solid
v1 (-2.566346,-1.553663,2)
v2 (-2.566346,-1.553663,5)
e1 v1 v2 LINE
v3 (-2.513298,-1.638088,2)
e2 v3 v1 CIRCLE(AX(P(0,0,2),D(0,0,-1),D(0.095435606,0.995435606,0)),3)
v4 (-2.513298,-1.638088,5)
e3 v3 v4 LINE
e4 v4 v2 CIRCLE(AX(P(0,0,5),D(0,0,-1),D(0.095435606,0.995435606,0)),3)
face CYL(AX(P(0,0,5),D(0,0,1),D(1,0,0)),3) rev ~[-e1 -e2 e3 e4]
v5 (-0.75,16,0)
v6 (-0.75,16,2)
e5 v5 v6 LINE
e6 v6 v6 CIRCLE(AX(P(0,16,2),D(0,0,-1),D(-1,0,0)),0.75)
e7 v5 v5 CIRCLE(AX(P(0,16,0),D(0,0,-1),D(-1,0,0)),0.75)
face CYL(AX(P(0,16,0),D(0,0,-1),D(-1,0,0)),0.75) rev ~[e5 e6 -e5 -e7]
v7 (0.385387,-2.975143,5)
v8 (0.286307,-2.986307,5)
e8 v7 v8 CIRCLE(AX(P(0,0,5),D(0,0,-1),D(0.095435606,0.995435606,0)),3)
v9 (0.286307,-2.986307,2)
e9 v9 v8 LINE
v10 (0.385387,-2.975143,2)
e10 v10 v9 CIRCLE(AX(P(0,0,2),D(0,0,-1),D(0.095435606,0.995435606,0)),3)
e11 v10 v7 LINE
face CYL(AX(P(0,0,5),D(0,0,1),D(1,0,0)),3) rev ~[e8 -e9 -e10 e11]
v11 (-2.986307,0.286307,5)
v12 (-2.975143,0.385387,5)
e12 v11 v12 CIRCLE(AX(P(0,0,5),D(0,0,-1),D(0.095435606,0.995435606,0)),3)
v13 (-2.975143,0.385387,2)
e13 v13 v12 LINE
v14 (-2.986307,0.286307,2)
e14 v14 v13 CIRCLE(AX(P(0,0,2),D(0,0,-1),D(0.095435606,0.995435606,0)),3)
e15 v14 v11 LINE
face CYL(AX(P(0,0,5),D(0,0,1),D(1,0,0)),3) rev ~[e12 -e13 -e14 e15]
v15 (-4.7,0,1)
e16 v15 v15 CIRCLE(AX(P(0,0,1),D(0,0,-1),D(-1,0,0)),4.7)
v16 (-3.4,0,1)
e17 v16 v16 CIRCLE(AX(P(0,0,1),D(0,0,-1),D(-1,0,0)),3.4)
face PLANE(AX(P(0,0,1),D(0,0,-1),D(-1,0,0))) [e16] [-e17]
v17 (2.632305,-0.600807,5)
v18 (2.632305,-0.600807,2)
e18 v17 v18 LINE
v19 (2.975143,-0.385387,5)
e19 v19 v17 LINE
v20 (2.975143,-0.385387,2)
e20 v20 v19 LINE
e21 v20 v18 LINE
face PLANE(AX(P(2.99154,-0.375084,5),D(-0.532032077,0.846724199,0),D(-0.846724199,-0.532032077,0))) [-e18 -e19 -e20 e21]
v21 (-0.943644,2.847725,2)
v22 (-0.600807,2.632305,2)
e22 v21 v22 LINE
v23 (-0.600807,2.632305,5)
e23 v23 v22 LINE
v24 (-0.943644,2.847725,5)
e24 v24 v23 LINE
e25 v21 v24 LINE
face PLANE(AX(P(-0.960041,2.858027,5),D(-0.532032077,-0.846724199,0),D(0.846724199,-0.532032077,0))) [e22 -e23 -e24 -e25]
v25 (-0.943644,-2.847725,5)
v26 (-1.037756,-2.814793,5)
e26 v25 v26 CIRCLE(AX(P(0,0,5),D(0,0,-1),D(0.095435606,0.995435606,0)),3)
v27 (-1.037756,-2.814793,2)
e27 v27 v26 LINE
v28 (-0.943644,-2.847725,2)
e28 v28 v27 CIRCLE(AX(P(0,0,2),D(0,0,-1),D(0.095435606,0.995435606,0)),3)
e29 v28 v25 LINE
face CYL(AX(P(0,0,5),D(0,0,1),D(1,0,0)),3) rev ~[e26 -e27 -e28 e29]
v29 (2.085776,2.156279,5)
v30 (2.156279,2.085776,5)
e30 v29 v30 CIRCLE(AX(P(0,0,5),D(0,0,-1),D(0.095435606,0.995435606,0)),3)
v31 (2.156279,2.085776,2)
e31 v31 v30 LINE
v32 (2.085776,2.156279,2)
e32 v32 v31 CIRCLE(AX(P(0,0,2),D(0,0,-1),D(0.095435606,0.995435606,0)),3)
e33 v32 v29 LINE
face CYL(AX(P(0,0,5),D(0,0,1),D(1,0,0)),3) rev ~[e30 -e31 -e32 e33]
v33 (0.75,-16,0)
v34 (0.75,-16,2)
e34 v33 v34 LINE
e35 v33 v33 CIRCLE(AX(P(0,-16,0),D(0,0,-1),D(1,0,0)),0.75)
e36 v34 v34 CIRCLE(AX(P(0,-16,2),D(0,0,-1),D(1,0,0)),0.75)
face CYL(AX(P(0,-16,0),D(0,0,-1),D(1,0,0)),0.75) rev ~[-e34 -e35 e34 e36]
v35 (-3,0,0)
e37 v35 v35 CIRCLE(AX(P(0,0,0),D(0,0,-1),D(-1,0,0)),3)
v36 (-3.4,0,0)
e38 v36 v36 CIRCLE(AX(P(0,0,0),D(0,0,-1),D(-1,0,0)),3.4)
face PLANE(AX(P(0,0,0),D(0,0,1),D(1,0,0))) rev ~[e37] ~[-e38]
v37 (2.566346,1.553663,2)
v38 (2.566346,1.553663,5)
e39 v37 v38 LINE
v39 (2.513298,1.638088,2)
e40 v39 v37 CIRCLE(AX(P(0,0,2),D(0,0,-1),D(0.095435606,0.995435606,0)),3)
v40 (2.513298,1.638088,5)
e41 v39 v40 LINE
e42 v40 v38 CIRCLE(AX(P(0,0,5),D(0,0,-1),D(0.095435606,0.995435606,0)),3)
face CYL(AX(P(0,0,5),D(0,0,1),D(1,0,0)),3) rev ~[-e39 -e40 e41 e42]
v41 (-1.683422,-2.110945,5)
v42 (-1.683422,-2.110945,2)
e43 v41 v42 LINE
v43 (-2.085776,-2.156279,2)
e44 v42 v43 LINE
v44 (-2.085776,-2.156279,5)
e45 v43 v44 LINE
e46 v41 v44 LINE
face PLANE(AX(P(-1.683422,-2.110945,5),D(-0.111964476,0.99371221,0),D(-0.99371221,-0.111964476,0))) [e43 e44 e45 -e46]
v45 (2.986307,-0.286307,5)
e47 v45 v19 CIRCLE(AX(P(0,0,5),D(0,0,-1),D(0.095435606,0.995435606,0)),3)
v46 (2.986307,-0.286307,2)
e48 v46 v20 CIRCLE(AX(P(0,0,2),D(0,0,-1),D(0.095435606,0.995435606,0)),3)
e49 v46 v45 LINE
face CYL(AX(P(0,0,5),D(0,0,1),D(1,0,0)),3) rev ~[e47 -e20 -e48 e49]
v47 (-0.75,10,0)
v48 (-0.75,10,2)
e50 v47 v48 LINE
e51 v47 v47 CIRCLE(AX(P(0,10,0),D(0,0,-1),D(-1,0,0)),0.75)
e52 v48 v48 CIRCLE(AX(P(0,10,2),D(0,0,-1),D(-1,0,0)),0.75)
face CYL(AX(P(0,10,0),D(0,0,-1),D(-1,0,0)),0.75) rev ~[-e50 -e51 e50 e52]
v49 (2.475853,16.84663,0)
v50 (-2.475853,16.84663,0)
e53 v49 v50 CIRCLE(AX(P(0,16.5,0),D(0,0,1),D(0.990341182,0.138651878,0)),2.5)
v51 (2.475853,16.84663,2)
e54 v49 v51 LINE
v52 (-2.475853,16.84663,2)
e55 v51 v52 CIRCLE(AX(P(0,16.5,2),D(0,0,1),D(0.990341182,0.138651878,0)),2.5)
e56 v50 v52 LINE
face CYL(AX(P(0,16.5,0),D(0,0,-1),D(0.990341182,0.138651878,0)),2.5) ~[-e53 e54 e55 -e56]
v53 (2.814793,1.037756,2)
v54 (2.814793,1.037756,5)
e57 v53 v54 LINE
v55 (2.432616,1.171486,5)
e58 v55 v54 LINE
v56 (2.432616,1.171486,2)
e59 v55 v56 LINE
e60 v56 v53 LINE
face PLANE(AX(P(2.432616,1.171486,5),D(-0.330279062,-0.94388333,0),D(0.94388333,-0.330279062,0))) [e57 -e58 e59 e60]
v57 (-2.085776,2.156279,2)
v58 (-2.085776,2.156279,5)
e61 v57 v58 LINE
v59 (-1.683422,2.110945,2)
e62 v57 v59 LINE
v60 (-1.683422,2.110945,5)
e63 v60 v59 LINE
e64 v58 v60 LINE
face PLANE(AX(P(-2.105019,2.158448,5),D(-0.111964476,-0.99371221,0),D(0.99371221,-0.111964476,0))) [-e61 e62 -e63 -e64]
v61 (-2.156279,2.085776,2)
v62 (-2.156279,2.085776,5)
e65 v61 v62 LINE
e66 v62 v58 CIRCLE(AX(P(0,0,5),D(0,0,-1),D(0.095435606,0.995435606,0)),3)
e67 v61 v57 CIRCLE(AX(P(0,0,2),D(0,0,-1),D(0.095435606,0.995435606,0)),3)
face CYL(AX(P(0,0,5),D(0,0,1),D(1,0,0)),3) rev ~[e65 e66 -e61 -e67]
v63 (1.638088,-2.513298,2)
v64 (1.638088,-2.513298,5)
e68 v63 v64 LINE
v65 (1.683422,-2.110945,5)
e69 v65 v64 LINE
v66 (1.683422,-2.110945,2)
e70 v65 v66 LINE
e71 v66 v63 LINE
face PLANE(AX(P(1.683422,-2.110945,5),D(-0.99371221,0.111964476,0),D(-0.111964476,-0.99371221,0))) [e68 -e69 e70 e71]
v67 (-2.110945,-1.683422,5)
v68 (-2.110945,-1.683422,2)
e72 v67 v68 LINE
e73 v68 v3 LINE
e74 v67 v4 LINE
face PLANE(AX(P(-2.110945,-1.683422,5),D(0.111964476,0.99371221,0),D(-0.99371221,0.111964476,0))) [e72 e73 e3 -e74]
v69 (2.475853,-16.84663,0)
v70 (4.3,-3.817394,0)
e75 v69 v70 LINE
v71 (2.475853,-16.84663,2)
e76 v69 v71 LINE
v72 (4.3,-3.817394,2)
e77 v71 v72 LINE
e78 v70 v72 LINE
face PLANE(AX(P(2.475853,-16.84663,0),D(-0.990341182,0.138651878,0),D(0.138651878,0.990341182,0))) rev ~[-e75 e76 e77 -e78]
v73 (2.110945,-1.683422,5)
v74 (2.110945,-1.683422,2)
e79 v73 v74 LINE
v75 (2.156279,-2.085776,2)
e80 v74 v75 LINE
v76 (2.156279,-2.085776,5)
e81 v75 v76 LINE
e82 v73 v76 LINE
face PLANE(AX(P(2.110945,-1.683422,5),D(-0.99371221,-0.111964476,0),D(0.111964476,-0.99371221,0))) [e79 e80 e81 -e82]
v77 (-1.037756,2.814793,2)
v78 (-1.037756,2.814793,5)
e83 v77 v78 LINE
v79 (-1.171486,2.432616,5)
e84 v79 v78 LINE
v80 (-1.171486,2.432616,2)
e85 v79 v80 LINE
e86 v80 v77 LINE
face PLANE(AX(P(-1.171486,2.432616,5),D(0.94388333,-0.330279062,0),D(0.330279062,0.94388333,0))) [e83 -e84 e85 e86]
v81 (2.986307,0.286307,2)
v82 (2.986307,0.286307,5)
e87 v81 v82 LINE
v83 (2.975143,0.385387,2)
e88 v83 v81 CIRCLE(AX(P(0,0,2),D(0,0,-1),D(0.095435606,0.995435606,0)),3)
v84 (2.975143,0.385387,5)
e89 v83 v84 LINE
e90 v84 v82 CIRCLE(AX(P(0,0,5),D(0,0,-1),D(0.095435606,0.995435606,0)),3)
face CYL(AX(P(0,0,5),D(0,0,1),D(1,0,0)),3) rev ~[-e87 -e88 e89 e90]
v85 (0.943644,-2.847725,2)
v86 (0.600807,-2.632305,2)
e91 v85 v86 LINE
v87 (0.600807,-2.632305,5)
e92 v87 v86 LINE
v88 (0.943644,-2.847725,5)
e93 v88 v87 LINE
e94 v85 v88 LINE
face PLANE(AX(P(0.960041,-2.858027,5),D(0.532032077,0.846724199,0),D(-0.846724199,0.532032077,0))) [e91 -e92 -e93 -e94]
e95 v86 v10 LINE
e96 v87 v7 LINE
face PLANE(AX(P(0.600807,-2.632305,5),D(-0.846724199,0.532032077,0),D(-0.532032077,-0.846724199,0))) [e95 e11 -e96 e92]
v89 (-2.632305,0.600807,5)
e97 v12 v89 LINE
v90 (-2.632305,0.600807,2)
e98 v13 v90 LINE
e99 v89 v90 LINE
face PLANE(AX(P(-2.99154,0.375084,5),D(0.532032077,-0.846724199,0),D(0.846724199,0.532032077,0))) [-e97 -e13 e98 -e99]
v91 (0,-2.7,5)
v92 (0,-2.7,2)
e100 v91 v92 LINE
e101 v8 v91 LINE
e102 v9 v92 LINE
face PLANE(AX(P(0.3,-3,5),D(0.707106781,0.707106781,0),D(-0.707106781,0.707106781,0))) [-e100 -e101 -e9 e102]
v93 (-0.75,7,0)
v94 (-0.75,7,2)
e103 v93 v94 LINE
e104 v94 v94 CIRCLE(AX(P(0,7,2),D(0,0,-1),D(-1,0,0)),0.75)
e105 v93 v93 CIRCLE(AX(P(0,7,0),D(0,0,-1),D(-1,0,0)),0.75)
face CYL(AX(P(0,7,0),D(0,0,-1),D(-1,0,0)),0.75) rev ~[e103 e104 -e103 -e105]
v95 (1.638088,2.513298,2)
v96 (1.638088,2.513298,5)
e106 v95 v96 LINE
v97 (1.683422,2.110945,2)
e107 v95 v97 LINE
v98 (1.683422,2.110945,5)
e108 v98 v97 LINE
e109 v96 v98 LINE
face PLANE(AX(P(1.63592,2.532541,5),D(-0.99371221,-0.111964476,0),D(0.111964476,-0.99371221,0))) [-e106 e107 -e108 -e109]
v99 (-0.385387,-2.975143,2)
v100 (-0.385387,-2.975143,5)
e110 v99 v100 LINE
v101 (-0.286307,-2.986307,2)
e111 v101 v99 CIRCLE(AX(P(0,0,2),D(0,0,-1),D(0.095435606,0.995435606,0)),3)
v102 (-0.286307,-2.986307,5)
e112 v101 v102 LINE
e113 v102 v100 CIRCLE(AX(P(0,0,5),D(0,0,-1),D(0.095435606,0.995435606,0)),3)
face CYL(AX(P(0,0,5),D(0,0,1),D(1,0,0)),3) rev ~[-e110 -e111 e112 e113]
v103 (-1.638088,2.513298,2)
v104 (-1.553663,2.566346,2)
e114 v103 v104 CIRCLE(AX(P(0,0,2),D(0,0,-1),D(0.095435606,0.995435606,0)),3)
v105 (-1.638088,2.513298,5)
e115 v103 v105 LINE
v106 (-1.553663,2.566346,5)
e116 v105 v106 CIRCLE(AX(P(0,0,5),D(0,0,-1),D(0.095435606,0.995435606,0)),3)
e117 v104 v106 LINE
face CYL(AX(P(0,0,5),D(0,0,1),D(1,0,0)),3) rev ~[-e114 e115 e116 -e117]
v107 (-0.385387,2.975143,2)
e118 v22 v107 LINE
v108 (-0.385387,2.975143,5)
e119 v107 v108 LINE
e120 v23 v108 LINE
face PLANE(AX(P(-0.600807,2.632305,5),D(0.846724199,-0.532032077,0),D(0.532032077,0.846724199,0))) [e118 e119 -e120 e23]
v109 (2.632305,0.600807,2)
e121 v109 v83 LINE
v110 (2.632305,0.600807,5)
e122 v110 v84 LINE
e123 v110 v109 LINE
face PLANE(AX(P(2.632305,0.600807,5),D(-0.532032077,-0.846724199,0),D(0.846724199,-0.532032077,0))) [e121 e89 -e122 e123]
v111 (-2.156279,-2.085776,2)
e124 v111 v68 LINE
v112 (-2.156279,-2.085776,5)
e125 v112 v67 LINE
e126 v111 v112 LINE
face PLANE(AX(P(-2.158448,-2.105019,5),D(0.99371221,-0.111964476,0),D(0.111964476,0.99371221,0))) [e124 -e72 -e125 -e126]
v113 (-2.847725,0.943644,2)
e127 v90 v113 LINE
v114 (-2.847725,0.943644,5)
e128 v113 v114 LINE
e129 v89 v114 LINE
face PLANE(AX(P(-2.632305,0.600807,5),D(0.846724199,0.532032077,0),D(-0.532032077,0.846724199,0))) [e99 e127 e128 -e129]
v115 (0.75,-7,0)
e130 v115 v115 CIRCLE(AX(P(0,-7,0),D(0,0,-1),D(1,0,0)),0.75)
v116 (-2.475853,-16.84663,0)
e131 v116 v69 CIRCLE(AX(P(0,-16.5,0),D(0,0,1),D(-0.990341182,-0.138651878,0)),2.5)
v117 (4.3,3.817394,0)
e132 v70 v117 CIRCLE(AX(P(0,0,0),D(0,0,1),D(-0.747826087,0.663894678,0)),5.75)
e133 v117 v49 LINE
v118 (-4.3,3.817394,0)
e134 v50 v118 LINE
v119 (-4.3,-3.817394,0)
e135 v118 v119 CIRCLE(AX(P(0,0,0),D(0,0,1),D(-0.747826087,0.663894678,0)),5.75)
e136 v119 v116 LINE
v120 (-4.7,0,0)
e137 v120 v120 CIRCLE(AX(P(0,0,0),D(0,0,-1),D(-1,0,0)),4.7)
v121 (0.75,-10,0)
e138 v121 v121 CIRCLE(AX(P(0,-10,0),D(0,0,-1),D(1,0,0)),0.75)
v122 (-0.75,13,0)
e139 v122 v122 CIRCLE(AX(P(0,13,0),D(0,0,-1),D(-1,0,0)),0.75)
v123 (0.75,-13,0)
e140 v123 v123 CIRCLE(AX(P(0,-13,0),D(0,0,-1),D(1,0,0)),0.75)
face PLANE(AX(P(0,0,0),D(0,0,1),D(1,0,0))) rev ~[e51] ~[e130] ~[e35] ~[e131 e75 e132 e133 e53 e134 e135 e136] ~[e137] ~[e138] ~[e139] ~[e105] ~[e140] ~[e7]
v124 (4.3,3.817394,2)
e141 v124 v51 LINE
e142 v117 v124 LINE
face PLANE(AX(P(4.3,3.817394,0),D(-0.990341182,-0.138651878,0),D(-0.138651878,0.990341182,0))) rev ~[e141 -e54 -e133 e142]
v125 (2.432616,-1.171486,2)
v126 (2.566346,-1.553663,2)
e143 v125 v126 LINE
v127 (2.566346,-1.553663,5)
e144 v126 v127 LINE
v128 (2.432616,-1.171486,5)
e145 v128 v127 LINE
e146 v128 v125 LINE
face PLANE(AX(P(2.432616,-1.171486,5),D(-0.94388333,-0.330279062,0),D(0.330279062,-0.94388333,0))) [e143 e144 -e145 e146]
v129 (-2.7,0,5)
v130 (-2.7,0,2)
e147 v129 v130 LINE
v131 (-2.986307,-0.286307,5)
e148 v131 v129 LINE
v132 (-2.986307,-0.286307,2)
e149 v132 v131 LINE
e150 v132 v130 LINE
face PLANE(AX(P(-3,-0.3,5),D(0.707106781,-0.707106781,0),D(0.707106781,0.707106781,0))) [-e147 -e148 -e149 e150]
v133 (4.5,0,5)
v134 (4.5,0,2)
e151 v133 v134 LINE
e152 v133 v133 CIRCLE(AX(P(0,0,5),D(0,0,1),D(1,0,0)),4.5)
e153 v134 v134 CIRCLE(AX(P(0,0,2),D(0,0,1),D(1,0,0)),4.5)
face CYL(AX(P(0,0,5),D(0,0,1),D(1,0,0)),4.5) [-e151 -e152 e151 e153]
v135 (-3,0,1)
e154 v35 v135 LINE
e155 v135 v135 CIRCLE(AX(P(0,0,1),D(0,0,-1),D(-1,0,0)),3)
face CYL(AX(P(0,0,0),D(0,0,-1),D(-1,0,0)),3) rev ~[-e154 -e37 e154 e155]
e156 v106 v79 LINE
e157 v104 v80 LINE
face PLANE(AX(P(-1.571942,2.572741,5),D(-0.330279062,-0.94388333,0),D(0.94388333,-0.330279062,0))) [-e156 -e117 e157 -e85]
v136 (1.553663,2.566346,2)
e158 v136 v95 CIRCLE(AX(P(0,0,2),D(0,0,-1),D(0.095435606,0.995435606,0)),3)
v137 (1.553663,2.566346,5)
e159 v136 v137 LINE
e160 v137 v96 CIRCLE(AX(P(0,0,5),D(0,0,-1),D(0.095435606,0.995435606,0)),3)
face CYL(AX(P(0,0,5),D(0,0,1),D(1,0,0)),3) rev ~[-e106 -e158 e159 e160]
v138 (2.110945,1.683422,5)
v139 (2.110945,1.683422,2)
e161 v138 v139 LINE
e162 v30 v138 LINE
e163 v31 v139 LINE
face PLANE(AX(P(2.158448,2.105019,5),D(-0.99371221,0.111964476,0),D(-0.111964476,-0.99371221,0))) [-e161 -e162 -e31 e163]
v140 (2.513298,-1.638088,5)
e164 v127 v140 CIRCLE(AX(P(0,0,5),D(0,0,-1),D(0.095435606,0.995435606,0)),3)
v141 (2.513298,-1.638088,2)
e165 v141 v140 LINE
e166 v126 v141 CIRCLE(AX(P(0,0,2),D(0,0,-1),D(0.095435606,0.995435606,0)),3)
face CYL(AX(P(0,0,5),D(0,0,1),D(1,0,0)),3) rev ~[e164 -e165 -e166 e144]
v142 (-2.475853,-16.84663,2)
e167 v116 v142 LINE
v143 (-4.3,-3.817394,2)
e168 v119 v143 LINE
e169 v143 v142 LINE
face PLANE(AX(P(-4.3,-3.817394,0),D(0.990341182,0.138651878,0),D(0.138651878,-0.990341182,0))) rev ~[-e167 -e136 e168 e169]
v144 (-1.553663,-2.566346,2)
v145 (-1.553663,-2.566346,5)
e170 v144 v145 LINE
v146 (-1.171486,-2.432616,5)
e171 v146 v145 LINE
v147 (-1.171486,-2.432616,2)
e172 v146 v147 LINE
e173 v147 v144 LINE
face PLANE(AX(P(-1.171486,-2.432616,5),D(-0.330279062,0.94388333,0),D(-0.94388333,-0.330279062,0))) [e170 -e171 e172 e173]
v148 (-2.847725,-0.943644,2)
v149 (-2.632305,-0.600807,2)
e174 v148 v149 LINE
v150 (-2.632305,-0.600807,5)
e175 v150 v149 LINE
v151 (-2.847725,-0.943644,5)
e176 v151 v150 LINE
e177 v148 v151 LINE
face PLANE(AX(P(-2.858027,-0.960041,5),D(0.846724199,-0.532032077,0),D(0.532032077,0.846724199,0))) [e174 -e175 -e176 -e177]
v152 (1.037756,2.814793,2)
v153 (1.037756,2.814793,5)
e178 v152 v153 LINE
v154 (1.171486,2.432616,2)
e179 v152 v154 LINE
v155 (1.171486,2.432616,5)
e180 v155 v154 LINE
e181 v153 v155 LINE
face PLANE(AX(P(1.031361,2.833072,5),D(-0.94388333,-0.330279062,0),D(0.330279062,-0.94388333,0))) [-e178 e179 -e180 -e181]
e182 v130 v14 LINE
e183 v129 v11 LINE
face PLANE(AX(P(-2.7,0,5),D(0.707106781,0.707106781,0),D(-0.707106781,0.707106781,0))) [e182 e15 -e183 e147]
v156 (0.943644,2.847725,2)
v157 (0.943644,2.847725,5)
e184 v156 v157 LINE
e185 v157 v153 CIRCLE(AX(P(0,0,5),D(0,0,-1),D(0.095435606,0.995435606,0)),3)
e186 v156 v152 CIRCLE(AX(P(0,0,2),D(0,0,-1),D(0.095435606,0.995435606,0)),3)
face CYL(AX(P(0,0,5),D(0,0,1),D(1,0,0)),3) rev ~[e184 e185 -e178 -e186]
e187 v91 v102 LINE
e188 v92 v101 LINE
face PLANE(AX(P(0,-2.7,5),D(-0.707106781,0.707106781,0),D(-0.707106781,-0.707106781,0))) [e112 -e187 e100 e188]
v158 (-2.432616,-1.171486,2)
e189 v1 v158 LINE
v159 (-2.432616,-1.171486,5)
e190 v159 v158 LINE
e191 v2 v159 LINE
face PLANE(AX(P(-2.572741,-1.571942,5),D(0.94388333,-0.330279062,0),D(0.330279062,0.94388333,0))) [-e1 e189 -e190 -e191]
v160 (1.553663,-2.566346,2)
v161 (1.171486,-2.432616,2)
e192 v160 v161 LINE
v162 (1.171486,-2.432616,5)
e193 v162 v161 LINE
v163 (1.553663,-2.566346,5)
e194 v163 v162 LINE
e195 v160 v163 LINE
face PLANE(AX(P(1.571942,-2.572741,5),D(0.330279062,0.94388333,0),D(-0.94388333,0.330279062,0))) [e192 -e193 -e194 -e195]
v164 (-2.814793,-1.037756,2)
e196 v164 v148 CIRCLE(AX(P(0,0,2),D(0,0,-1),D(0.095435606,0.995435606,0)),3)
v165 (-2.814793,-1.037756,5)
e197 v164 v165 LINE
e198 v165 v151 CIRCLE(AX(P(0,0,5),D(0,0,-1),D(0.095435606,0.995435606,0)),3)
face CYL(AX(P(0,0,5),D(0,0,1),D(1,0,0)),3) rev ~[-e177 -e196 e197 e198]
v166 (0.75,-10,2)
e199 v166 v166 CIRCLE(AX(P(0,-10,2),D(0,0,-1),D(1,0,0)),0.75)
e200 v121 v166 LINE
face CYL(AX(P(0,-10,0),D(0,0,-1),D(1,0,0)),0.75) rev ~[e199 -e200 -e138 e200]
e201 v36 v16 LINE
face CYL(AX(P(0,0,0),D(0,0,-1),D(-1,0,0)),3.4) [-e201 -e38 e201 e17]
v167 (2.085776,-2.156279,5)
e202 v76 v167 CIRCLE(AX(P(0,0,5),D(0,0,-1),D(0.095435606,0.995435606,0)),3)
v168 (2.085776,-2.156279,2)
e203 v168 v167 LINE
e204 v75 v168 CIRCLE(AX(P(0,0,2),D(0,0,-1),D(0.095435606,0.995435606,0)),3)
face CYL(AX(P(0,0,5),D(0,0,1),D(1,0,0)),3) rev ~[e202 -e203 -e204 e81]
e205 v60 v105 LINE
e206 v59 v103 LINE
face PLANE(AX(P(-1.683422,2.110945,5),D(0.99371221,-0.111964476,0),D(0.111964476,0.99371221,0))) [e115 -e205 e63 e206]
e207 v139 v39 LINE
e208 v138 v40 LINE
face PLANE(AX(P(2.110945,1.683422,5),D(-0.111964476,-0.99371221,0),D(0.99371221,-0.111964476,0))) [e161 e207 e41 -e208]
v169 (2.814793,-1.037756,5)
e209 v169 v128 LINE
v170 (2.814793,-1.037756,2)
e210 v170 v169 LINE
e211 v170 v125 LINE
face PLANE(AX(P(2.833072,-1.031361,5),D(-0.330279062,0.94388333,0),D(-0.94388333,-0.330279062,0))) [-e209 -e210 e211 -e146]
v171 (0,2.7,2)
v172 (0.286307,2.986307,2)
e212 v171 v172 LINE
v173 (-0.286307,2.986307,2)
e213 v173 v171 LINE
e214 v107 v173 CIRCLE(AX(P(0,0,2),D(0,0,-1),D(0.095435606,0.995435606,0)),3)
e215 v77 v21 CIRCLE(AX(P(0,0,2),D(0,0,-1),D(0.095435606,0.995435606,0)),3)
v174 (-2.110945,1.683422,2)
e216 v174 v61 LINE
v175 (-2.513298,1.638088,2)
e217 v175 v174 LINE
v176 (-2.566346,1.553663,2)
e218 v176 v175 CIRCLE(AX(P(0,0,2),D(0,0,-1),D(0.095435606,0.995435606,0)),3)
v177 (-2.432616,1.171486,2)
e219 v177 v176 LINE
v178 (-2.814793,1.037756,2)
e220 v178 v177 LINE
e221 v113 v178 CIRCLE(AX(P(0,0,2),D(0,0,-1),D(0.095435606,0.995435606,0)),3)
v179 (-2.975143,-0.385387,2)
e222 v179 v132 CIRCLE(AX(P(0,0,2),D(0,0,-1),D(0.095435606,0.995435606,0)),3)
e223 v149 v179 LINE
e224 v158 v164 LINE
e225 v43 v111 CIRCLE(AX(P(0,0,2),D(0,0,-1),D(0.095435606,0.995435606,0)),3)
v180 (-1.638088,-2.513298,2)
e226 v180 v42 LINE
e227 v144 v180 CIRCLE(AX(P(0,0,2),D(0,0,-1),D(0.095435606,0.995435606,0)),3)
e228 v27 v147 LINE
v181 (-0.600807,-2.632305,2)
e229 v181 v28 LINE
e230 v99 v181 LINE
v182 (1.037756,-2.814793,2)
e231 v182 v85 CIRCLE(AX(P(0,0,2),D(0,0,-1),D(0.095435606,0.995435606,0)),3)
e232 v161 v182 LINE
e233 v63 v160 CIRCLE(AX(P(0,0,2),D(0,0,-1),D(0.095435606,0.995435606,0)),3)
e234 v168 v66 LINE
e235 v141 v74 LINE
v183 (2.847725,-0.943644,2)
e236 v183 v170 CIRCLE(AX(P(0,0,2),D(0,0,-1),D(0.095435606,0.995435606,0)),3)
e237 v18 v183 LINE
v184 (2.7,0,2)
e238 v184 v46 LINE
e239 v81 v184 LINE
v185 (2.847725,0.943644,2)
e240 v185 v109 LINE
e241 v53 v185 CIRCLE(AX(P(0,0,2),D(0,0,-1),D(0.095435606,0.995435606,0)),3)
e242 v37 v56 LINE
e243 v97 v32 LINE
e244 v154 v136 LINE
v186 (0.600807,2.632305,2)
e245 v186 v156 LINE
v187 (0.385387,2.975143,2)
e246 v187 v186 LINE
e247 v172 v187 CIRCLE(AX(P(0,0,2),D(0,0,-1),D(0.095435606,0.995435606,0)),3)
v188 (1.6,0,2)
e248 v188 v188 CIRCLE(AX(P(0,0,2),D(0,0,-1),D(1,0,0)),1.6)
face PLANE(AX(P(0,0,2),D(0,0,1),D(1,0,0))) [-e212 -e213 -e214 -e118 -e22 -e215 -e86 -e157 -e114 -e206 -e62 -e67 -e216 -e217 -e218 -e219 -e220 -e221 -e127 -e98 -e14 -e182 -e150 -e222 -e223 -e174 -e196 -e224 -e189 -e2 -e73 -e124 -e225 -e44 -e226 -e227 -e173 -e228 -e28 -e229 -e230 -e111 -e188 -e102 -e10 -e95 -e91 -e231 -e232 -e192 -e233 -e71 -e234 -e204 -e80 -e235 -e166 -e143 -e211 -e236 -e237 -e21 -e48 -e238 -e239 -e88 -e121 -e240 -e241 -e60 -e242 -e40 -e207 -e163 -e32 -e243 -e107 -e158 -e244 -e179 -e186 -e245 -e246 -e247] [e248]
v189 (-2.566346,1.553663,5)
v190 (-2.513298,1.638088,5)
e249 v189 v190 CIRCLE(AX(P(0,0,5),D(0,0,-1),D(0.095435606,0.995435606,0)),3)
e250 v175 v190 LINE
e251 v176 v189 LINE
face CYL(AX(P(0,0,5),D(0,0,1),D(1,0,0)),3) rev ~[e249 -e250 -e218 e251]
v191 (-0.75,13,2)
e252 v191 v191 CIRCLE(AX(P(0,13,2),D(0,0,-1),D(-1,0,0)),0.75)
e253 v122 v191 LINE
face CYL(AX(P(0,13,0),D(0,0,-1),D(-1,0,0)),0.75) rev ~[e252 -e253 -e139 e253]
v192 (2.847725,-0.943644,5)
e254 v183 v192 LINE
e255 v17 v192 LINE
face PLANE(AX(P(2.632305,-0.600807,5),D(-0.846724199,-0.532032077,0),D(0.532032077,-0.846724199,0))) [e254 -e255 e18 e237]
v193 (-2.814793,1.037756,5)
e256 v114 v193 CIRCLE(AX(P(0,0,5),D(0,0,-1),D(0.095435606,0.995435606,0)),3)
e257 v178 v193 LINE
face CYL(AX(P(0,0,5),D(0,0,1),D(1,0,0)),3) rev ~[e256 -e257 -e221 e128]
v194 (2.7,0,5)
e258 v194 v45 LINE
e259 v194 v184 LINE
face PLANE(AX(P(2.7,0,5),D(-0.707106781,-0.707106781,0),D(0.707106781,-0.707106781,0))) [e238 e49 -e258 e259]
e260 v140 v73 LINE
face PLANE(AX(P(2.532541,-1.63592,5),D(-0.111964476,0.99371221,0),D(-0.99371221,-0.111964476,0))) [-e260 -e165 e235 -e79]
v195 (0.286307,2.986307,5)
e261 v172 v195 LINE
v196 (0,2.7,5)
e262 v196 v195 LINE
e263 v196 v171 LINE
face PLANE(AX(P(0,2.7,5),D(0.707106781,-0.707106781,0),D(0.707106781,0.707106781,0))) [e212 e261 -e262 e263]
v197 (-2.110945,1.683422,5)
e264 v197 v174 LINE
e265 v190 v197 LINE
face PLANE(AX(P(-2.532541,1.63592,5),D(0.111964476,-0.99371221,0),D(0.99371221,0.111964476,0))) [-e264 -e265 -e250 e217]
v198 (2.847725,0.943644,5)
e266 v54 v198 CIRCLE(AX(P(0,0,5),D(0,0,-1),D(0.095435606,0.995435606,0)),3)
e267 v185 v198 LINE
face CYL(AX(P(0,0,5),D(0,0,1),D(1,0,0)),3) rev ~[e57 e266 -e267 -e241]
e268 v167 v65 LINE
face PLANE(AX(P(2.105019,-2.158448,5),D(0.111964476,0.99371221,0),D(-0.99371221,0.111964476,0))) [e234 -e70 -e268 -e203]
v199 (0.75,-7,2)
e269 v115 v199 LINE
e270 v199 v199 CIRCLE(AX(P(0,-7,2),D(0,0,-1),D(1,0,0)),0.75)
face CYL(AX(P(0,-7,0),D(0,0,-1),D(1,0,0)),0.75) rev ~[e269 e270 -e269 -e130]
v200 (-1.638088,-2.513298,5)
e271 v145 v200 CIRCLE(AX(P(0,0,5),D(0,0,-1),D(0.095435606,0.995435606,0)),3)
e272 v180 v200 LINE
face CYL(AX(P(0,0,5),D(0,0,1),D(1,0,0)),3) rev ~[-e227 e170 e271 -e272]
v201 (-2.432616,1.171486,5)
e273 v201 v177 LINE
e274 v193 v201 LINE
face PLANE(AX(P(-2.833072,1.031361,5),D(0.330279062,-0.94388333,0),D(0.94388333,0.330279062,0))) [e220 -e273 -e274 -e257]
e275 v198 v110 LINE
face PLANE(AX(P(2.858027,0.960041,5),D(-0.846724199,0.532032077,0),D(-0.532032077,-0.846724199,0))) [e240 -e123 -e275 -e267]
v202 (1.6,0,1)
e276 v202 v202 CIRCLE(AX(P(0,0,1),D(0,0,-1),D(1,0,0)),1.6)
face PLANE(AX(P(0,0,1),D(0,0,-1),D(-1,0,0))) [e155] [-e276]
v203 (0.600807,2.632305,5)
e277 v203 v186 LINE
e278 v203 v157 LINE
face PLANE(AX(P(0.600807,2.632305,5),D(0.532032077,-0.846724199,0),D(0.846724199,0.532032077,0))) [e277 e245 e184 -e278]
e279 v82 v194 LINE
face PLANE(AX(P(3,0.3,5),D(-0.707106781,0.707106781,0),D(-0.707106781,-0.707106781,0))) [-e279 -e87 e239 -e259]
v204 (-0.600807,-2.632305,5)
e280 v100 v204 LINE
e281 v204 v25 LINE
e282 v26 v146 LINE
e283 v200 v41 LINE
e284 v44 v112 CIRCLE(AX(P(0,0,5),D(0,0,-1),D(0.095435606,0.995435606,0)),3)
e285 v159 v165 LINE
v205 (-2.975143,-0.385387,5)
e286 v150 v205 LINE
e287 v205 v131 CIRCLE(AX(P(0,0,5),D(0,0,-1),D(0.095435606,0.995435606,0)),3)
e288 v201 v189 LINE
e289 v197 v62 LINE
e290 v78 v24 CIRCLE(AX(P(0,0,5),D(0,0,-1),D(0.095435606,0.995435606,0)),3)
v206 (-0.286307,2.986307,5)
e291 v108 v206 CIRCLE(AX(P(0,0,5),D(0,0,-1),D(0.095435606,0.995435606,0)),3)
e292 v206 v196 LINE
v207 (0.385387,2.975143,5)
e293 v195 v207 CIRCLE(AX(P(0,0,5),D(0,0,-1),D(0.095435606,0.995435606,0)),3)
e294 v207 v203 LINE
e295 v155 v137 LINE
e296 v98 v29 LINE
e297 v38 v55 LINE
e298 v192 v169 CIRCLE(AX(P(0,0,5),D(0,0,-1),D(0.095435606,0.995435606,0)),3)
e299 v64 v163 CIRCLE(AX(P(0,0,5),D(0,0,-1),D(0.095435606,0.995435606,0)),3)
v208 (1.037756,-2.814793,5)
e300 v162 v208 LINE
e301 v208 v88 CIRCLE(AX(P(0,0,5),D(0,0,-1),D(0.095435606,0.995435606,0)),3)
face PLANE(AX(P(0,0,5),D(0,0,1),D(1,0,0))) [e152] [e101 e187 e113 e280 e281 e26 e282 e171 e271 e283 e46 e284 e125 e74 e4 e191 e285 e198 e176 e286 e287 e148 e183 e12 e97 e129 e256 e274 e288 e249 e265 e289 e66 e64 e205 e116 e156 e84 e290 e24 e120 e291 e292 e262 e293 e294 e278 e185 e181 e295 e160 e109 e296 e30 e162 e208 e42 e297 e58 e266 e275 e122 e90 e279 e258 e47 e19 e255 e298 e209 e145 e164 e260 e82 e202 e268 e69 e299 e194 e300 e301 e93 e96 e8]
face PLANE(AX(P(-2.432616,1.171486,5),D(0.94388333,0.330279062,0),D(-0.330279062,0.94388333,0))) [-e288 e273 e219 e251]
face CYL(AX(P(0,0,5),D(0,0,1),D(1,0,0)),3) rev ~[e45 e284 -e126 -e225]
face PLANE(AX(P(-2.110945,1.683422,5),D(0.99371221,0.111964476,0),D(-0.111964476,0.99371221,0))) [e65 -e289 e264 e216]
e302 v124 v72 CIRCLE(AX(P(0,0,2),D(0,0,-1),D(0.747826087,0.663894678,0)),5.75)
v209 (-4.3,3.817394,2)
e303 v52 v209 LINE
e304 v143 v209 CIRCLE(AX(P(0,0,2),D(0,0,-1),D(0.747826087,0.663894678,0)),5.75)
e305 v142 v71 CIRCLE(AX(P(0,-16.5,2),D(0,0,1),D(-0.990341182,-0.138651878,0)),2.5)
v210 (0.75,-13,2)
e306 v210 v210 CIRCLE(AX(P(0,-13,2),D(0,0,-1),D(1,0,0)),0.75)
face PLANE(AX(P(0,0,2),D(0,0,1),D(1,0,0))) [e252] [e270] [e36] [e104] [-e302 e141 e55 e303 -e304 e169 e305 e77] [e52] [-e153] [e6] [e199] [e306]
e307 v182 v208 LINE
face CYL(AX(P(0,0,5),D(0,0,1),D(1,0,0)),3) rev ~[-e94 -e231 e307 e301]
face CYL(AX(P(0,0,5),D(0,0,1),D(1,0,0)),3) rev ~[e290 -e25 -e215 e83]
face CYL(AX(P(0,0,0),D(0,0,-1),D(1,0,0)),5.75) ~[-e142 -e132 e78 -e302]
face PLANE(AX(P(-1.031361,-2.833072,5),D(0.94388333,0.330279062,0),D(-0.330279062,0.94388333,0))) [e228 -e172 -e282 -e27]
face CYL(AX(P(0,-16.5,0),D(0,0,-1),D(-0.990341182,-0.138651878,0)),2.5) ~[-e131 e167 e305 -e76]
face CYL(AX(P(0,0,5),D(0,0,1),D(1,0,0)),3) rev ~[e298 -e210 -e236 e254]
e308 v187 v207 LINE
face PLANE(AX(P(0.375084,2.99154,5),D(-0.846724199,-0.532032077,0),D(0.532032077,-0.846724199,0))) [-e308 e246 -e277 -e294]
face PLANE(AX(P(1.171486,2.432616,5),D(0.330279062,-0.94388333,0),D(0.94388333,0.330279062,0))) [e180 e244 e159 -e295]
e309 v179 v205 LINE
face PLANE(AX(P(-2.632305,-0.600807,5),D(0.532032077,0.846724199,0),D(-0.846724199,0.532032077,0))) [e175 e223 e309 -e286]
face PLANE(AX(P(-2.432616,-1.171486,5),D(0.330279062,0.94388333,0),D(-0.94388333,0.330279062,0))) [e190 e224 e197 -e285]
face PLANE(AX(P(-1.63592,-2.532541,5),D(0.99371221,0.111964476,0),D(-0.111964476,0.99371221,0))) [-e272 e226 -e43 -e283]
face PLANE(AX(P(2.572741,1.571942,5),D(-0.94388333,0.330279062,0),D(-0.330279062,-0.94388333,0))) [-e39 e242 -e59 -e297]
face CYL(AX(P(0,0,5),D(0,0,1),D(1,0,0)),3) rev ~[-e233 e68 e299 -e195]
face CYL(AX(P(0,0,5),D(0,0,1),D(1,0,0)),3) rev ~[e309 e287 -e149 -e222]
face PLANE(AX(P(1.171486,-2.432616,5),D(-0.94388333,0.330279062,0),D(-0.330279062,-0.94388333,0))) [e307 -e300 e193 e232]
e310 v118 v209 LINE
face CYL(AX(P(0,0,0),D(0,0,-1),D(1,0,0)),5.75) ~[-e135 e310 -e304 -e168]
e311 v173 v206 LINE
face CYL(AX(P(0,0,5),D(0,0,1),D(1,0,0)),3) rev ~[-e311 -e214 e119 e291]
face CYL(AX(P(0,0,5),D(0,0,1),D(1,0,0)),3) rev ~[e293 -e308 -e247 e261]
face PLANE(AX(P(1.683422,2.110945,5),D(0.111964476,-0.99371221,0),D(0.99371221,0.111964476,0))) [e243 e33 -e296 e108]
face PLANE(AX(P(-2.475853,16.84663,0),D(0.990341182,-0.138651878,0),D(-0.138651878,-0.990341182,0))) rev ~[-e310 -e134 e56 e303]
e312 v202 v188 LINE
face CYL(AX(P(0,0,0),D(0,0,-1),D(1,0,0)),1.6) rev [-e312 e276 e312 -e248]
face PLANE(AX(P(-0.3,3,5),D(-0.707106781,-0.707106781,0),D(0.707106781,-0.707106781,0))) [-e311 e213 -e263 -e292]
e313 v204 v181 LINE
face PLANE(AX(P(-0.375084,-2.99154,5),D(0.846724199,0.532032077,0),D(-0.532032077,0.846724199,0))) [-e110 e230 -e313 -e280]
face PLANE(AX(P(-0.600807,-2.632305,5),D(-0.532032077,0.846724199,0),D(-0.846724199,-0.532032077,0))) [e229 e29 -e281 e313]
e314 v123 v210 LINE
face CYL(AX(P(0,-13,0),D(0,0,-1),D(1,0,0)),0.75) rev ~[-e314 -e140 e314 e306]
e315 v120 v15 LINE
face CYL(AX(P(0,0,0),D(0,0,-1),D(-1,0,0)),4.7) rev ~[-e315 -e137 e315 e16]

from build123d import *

# Parameters (mm, degrees)
ESQUISSE1_R                  = 5.75
ESQUISSE1_R_2                = 1.6
BOSS_EXTRU_1_DEPTH           = 5
ESQUISSE2_R                  = 3
ENL_V_MAT_EXTRU_1_DEPTH      = 3
ESQUISSE3_R                  = 5.75
ESQUISSE3_R_2                = 4.5
ENL_V_MAT_EXTRU_2_DEPTH      = 3
BOSS_EXTRU_2_DEPTH           = 2
R_P_TITION_CIRCULAIRE1_COUNT = 2
ESQUISSE5_R                  = 0.75
ENL_V_MAT_EXTRU_3_DEPTH      = 3
R_P_TITION_CIRCULAIRE2_COUNT = 2
BOSS_EXTRU_3_DEPTH           = 3
R_P_TITION_CIRCULAIRE3_COUNT = 28
ESQUISSE7_R                  = 3
ESQUISSE7_R_2                = 1.6
ENL_V_MAT_EXTRU_4_DEPTH      = 1
ESQUISSE8_R                  = 4.7
ESQUISSE8_R_2                = 3.4
ENL_V_MAT_EXTRU_5_DEPTH      = 1


with BuildPart() as part:
    # Esquisse1 → Boss.-Extru.1 (new body)
    with BuildSketch(Plane.XY):
        Circle(ESQUISSE1_R)
        Circle(ESQUISSE1_R_2, mode=Mode.SUBTRACT)
    extrude(amount=BOSS_EXTRU_1_DEPTH)

    # Esquisse2 → Enlèv. mat.-Extru.1 (cut)
    with BuildSketch(Plane.XY.offset(5)):
        Circle(ESQUISSE2_R)
    extrude(amount=-ENL_V_MAT_EXTRU_1_DEPTH, mode=Mode.SUBTRACT)

    # Esquisse3 → Enlèv. mat.-Extru.2 (cut)
    with BuildSketch(Plane.XY.offset(5)):
        Circle(ESQUISSE3_R)
        Circle(ESQUISSE3_R_2, mode=Mode.SUBTRACT)
    extrude(amount=-ENL_V_MAT_EXTRU_2_DEPTH, mode=Mode.SUBTRACT)

    # Esquisse4 → Boss.-Extru.2 (add)
    with BuildSketch(Plane(origin=(0, 0, 0), x_dir=(-1, 0, 0), z_dir=(0, 0, -1))):
        with BuildLine():
            Line((-4.3, 3.817394399), (-2.475852955, 16.846629695))
            ThreePointArc((-2.475852955, 16.846629695), (0, 19), (2.475852955, 16.846629695))
            Line((2.475852955, 16.846629695), (4.3, 3.817394399))
            ThreePointArc((4.3, 3.817394399), (0, 5.75), (-4.3, 3.817394399))
        make_face()
    boss_extru_2 = extrude(amount=-BOSS_EXTRU_2_DEPTH)

    # Répétition circulaire1: Boss.-Extru.2 ×2 about axis
    r_p_tition_circulaire1_axis = Axis((0, 0, 0), (0, 0, 1))
    for i in range(1, R_P_TITION_CIRCULAIRE1_COUNT):
        add(boss_extru_2.rotate(r_p_tition_circulaire1_axis, i * 360 / R_P_TITION_CIRCULAIRE1_COUNT))

    # Esquisse5 → Enlèv. mat.-Extru.3 (cut)
    with BuildSketch(Plane(origin=(0, 0, 0), x_dir=(-1, 0, 0), z_dir=(0, 0, -1))):
        with Locations((0, 7)):
            Circle(ESQUISSE5_R)
        with Locations((0, 10)):
            Circle(ESQUISSE5_R)
        with Locations((0, 13)):
            Circle(ESQUISSE5_R)
        with Locations((0, 16)):
            Circle(ESQUISSE5_R)
    enl_v_mat_extru_3 = extrude(amount=-ENL_V_MAT_EXTRU_3_DEPTH, mode=Mode.SUBTRACT)

    # Répétition circulaire2: Enlèv. mat.-Extru.3 ×2 about axis
    r_p_tition_circulaire2_axis = Axis((0, 0, 0), (0, 0, 1))
    for i in range(1, R_P_TITION_CIRCULAIRE2_COUNT):
        add(enl_v_mat_extru_3.rotate(r_p_tition_circulaire2_axis, i * 360 / R_P_TITION_CIRCULAIRE2_COUNT), mode=Mode.SUBTRACT)

    # Esquisse6 → Boss.-Extru.3 (add)
    with BuildSketch(Plane.XY.offset(5)):
        Polygon((-0.3, 3), (0, 2.7), (0.3, 3), align=None)
    boss_extru_3 = extrude(amount=-BOSS_EXTRU_3_DEPTH)

    # Répétition circulaire3: Boss.-Extru.3 ×28 about axis
    r_p_tition_circulaire3_axis = Axis((0, 0, 0), (0, 0, 1))
    for i in range(1, R_P_TITION_CIRCULAIRE3_COUNT):
        add(boss_extru_3.rotate(r_p_tition_circulaire3_axis, i * 360 / R_P_TITION_CIRCULAIRE3_COUNT))

    # Esquisse7 → Enlèv. mat.-Extru.4 (cut)
    with BuildSketch(Plane(origin=(0, 0, 0), x_dir=(-1, 0, 0), z_dir=(0, 0, -1))):
        Circle(ESQUISSE7_R)
        Circle(ESQUISSE7_R_2, mode=Mode.SUBTRACT)
    extrude(amount=-ENL_V_MAT_EXTRU_4_DEPTH, mode=Mode.SUBTRACT)

    # Esquisse8 → Enlèv. mat.-Extru.5 (cut)
    with BuildSketch(Plane(origin=(0, 0, 0), x_dir=(-1, 0, 0), z_dir=(0, 0, -1))):
        Circle(ESQUISSE8_R)
        Circle(ESQUISSE8_R_2, mode=Mode.SUBTRACT)
    extrude(amount=-ENL_V_MAT_EXTRU_5_DEPTH, mode=Mode.SUBTRACT)


solid = part.part
